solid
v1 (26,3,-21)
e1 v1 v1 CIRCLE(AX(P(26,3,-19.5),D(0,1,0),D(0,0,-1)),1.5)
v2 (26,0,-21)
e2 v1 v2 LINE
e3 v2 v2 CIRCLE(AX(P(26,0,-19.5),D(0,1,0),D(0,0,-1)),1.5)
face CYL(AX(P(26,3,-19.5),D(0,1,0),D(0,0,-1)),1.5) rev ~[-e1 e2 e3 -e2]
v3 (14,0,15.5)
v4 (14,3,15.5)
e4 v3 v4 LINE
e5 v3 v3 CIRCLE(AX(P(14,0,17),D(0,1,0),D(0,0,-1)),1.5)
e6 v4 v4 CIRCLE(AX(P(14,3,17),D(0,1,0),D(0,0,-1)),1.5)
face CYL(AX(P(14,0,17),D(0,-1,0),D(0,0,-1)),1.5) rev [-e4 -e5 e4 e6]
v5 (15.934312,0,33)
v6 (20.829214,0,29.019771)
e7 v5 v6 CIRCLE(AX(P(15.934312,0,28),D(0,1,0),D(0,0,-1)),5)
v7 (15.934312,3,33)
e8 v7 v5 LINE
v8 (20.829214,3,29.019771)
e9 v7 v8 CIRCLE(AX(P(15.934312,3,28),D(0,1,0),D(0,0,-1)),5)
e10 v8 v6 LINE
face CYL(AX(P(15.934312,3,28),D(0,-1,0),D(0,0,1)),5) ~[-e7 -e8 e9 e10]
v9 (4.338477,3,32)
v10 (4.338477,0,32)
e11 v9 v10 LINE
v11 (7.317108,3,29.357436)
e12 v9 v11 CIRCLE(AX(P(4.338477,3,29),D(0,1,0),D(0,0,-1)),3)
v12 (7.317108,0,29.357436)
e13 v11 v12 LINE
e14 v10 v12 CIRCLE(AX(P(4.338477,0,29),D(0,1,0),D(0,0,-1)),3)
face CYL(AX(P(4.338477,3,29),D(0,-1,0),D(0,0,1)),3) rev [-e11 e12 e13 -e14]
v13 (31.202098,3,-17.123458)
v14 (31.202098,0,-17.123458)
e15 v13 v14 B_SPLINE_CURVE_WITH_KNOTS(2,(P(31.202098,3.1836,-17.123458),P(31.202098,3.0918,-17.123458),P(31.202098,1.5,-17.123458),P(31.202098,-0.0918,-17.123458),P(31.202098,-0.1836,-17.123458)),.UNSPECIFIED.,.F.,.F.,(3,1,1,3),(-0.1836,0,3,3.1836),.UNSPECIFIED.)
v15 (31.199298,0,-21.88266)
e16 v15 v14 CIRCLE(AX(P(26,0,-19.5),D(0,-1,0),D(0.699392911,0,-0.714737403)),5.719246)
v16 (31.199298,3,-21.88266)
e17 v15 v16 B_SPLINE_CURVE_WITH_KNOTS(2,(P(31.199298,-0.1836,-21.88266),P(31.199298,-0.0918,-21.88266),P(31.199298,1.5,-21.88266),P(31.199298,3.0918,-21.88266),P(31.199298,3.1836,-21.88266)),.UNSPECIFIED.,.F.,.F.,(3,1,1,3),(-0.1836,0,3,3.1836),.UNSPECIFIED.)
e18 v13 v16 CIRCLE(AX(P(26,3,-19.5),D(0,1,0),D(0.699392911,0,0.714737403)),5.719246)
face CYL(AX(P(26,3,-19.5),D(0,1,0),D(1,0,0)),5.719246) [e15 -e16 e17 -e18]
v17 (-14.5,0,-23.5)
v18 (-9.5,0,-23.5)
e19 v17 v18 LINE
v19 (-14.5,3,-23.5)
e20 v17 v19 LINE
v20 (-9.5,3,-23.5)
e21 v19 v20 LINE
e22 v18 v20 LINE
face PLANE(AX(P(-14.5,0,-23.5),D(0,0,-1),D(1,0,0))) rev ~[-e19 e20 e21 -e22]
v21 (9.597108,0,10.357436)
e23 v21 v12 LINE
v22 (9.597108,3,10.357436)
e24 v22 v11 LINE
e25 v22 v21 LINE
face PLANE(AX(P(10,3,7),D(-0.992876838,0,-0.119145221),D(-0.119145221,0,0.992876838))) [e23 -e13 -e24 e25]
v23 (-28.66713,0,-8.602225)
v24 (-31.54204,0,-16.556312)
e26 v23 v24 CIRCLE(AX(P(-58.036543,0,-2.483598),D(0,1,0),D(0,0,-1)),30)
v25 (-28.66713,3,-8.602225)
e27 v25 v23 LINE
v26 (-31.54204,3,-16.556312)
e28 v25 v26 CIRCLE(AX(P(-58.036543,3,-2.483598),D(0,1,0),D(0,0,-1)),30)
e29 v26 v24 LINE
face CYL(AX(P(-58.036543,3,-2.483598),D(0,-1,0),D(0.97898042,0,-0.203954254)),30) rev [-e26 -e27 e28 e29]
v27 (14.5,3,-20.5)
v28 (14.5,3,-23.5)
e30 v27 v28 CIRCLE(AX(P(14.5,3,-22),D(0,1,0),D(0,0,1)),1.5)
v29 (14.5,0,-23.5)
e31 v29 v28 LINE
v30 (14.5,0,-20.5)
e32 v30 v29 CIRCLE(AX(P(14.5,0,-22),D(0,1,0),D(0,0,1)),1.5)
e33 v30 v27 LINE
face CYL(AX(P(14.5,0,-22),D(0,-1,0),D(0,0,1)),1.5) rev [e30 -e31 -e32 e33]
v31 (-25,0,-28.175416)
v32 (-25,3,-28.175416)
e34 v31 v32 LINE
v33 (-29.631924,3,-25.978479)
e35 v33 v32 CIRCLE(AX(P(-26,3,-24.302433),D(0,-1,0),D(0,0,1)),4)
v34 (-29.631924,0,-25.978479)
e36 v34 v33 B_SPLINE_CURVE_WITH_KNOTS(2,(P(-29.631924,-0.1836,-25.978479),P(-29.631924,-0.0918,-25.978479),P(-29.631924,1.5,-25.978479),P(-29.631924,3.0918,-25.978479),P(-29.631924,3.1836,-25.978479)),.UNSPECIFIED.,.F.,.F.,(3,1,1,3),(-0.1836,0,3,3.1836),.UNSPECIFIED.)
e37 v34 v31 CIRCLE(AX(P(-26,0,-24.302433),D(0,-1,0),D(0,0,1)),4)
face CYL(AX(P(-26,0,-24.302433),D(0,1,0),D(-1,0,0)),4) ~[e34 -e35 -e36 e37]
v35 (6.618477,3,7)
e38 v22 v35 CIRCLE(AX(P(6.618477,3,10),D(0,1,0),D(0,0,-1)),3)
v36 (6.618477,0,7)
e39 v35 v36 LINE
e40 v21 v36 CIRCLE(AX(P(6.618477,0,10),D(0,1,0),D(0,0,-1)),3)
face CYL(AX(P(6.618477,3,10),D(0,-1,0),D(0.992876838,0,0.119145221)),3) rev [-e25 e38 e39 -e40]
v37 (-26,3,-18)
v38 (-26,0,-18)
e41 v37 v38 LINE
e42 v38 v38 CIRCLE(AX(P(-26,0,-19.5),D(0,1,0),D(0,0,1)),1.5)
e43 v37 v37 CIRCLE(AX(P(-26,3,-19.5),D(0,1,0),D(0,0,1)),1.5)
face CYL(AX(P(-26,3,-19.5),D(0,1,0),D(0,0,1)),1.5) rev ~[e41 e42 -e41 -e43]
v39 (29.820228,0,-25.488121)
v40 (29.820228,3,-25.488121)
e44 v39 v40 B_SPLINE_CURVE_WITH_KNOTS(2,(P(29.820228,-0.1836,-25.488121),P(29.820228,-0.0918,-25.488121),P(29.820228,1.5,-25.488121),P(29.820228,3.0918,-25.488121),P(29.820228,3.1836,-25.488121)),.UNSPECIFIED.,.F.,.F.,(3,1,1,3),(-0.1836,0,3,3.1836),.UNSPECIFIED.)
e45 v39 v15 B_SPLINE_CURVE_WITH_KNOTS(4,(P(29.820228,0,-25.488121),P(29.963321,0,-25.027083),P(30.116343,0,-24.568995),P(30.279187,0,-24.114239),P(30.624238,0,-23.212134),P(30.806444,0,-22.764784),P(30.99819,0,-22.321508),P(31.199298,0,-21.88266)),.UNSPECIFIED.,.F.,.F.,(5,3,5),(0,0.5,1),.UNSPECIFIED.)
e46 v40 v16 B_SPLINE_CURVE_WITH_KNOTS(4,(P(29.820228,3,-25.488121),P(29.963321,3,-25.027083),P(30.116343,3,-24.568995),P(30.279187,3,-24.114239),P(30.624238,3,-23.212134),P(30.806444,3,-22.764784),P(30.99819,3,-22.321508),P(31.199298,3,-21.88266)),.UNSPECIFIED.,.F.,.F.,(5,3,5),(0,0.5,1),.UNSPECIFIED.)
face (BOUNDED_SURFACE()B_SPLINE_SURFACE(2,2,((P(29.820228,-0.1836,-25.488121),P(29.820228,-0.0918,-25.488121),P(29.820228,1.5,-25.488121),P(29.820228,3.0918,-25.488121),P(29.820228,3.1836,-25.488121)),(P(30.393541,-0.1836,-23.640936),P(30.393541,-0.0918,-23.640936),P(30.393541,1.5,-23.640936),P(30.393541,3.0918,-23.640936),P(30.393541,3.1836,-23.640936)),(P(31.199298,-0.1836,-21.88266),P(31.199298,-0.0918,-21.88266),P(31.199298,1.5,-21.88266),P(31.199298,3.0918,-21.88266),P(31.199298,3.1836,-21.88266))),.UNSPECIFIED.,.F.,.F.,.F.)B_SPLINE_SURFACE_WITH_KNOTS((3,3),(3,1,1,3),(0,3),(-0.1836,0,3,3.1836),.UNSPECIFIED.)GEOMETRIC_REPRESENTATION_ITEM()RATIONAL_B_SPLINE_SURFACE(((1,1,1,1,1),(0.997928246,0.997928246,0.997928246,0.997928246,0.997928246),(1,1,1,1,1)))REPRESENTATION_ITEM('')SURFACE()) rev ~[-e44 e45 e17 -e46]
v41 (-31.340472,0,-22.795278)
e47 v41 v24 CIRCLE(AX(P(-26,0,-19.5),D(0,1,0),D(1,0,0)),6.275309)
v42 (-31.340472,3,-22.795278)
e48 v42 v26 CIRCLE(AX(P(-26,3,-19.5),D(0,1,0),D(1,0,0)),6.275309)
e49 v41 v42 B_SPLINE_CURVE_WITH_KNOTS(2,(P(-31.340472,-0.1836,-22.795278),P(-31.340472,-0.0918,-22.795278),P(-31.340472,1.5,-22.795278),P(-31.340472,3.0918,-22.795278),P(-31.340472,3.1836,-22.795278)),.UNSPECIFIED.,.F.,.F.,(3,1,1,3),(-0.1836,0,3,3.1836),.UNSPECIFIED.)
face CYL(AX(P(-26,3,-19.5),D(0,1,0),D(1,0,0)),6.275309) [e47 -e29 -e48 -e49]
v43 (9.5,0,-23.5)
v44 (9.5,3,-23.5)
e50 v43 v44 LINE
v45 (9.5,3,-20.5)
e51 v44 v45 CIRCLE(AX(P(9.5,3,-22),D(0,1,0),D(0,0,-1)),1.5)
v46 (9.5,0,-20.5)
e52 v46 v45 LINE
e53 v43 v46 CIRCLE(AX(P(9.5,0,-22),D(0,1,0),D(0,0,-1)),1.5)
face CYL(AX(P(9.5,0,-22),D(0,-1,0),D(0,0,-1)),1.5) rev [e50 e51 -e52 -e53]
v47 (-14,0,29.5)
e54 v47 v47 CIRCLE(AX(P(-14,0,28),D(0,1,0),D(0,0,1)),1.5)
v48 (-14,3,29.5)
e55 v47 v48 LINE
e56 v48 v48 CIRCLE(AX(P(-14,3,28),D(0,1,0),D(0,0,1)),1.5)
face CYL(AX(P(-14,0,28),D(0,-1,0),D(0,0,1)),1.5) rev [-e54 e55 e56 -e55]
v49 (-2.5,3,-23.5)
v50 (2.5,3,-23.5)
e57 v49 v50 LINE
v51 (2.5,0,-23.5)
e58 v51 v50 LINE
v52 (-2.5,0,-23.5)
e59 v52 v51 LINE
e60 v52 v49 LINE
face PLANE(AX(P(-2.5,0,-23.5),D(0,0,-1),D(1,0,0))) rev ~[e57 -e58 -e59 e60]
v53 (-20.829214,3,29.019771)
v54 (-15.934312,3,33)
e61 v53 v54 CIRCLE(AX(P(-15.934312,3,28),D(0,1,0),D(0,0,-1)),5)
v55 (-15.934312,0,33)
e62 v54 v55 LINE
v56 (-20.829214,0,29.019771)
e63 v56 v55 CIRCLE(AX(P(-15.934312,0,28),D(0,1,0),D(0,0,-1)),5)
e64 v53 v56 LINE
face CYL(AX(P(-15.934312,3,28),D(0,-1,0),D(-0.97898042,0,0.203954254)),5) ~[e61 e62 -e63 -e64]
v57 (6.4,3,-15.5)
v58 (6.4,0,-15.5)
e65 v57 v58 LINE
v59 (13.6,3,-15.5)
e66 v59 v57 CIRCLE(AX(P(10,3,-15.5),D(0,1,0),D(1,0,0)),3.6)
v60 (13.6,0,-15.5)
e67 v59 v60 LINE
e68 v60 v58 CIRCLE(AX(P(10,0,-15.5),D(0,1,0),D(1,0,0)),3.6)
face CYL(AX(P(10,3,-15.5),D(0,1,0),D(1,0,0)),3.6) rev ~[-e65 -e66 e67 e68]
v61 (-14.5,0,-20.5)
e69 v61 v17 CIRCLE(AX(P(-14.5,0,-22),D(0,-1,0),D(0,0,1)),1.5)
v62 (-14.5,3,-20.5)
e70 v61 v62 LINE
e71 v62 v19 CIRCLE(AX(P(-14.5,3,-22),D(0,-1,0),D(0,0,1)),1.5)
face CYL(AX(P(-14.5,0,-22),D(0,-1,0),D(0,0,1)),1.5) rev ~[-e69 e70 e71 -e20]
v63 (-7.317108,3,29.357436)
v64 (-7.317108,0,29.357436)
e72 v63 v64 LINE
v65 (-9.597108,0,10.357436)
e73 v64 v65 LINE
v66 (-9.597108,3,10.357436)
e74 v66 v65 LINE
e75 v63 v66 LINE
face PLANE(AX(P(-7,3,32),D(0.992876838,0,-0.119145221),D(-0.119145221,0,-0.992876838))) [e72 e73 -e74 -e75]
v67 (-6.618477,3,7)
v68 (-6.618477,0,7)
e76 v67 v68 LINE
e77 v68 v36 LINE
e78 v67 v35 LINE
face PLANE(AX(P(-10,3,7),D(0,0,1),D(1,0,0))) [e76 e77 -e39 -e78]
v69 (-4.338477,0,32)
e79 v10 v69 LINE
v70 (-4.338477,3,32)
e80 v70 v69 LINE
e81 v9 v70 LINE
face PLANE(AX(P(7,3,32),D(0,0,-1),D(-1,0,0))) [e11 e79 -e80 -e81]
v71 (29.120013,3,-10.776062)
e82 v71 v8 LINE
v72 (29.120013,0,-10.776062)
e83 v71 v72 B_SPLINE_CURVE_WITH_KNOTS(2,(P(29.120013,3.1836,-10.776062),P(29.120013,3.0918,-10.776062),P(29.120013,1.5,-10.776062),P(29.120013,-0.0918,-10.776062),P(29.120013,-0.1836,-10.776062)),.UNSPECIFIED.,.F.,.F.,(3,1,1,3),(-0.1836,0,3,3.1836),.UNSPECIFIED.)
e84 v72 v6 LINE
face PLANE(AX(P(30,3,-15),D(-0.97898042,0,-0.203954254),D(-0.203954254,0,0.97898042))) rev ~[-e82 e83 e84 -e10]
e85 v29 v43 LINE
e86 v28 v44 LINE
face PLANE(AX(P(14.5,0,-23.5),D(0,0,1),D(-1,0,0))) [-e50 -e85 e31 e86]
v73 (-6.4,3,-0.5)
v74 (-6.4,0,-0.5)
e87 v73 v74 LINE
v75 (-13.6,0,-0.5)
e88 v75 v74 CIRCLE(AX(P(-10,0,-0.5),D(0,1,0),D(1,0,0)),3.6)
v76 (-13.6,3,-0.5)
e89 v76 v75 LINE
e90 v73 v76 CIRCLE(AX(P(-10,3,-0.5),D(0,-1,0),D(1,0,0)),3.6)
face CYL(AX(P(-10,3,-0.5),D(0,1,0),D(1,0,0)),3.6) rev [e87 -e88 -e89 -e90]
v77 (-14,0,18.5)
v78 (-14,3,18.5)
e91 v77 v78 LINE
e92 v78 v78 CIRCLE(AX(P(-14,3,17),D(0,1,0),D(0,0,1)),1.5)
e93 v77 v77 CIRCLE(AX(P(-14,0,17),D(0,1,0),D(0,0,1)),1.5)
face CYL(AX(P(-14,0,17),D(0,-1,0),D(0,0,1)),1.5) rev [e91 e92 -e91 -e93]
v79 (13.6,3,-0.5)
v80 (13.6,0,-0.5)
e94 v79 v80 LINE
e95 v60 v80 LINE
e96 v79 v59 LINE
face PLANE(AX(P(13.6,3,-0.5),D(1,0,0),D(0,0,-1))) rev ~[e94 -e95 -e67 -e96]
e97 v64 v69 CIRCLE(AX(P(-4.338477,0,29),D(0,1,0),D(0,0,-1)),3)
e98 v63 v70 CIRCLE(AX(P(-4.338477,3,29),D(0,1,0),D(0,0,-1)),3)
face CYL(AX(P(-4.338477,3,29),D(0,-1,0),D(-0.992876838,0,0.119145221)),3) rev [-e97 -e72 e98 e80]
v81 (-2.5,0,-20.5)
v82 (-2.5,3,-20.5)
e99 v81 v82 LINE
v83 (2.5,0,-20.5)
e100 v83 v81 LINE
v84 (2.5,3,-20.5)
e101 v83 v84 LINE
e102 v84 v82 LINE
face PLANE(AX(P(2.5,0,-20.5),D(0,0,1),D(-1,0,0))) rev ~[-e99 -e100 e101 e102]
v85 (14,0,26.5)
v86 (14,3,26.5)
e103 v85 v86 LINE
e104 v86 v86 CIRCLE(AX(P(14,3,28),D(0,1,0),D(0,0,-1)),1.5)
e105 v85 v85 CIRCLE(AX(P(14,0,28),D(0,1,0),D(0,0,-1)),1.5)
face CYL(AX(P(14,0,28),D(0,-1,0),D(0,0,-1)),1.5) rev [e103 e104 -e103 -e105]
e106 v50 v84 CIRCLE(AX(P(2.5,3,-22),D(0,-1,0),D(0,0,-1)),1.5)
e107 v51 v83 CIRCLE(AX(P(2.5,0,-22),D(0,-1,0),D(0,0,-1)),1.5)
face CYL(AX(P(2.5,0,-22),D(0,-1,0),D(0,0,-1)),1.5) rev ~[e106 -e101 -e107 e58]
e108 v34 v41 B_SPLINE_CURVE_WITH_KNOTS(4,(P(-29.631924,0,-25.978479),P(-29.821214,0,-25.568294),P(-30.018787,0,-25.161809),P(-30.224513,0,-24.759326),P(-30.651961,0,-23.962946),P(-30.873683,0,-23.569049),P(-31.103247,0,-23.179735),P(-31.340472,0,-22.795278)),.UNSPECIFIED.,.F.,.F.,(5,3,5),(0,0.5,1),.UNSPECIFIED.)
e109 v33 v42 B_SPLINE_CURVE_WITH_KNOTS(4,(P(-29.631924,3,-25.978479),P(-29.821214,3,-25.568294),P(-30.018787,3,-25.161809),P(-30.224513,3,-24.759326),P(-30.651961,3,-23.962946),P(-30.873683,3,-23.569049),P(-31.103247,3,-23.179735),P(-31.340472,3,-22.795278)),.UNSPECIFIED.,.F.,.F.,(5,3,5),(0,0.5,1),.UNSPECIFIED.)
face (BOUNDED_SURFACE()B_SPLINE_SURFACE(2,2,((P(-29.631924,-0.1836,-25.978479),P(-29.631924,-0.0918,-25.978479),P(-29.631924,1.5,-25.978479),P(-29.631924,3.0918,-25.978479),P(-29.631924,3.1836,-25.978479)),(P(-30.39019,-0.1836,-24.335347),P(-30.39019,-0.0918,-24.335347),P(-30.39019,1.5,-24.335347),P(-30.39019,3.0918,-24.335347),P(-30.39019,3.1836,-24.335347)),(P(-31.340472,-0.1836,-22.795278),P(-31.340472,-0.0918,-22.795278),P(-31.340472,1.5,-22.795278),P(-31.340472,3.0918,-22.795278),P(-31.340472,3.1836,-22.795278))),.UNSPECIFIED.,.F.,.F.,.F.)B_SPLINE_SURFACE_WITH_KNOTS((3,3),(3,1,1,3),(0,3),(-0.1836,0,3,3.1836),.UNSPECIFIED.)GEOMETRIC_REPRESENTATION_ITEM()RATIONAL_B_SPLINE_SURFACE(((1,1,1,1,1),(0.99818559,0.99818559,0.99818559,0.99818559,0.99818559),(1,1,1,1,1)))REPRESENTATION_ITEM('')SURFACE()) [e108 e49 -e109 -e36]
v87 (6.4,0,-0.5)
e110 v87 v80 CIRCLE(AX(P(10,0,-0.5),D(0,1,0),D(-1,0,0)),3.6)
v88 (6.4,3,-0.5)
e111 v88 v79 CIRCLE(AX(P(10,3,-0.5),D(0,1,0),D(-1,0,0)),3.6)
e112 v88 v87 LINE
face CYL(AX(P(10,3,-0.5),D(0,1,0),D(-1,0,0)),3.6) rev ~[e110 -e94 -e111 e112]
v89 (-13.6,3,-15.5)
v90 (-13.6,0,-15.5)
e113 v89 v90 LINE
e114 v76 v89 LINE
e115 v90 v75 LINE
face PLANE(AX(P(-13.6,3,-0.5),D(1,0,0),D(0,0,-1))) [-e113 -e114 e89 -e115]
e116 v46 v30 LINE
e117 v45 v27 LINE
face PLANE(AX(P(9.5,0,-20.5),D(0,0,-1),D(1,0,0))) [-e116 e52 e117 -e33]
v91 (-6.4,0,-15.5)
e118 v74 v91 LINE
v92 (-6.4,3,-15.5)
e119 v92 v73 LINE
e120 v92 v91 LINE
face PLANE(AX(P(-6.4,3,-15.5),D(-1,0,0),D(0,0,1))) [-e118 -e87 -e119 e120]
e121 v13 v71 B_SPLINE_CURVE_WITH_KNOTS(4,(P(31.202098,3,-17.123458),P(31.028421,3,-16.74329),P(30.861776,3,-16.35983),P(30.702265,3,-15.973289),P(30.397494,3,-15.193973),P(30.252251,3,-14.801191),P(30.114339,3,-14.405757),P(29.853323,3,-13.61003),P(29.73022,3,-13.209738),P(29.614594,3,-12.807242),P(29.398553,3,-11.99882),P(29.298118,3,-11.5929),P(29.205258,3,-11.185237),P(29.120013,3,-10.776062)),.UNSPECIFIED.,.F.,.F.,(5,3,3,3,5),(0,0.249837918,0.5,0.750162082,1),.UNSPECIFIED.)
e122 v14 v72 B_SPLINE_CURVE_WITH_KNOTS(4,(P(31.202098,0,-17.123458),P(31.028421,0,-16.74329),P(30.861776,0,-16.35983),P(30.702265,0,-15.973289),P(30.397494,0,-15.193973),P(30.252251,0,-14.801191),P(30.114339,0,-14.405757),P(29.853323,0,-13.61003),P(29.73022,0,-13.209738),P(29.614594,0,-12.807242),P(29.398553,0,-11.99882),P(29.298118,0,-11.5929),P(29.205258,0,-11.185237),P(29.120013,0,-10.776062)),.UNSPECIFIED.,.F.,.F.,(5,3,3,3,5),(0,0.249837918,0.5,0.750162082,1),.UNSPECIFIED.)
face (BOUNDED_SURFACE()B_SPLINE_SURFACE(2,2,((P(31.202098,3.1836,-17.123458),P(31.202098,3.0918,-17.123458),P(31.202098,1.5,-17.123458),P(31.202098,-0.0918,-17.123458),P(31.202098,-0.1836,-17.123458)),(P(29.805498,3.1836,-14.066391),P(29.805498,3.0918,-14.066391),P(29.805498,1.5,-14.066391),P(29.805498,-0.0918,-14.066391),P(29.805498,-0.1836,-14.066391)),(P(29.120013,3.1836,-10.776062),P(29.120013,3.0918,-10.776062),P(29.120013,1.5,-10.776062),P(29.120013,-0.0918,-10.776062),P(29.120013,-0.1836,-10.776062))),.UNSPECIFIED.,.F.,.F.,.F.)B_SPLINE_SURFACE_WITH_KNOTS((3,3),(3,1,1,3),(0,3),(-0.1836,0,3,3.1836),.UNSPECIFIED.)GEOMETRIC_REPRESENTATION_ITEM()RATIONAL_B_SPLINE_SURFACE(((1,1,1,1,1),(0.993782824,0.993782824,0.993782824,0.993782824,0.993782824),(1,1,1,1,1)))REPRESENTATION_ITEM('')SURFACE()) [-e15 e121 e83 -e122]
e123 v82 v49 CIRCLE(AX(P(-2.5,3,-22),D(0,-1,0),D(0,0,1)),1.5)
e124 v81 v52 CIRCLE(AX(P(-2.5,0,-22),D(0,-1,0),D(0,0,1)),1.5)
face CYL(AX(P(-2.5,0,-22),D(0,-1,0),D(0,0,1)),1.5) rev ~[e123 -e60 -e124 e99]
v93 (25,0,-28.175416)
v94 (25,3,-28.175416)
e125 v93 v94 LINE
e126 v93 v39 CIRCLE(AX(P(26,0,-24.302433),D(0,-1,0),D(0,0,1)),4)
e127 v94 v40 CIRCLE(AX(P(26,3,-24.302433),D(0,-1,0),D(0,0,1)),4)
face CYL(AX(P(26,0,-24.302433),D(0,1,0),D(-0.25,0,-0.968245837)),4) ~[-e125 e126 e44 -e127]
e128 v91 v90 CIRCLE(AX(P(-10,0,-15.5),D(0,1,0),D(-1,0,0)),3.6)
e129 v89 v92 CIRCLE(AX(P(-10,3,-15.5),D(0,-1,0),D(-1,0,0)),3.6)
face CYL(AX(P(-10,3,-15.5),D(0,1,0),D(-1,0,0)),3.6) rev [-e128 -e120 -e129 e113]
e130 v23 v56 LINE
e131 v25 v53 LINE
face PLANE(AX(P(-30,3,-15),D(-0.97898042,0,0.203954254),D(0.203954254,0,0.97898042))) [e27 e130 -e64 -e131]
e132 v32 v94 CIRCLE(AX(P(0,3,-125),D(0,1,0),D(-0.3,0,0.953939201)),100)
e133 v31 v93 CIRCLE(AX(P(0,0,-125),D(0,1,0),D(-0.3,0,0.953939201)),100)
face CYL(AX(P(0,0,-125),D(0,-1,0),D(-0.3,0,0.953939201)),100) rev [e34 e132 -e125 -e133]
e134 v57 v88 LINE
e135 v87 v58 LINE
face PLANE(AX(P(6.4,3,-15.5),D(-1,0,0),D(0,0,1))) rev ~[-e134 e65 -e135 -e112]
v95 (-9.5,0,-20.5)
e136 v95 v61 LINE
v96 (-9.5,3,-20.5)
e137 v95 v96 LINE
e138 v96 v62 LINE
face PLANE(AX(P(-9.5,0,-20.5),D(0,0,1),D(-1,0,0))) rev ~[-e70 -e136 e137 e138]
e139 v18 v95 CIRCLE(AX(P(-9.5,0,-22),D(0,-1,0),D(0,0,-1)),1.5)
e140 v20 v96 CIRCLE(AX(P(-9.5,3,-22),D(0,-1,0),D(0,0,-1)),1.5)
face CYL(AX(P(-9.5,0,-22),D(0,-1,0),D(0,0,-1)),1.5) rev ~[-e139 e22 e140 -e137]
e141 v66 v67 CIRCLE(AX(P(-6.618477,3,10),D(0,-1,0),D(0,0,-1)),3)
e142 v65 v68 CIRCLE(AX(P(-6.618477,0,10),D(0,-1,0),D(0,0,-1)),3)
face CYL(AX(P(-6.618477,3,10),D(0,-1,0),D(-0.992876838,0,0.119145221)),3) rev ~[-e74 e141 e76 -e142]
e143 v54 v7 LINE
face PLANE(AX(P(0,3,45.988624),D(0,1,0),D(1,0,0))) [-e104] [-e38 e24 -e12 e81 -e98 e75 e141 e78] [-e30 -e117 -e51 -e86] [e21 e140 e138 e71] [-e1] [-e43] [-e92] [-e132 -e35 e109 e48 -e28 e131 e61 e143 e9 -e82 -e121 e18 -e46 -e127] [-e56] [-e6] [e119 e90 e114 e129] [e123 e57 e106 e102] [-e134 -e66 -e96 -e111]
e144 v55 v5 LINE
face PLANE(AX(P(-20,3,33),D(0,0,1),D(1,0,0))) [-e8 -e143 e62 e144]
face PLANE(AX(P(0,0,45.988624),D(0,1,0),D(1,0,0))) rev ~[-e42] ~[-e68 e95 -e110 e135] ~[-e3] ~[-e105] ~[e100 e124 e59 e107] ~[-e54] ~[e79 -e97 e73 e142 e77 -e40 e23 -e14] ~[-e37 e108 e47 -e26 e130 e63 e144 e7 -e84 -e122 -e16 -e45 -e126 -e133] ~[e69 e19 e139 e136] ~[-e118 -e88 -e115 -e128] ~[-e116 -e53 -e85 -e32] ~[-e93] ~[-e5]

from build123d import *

# Parameters (mm, degrees)
SKETCH_1_R          = 1.5
EXTRUDE_1_DEPTH     = 3
SKETCH_2_R          = 1.5
CUT_EXTRUDE_1_DEPTH = 55.166410256
EXTRUDE_2_DEPTH     = 3
CUT_EXTRUDE_2_DEPTH = 55.166410256
CUT_EXTRUDE_3_DEPTH = 3
FILLET_1_R          = 3
EXTRUDE_3_DEPTH     = 3
FILLET_3_R          = 4
SKETCH_9_W          = 40
SKETCH_9_H          = 28
CUT_EXTRUDE_4_DEPTH = 10
FILLET_4_R          = 5
SKETCH_11_R         = 6.275308726
SKETCH_11_R_2       = 1.5
SKETCH_11_R_3       = 5.719245844
EXTRUDE_4_DEPTH     = 3
FILLET_5_R          = 30


with BuildPart() as part:
    # 草图1 → 凸台-拉伸1 (new body)
    with BuildSketch(Plane(origin=(0, 0, 0), x_dir=(1, 0, 0), z_dir=(0, 1, 0))):
        with BuildLine():
            Line((-17.5, -25), (-30, -25))
            Line((-30, -25), (-30, 25))
            Line((-30, 25), (-30, 29.606079858))
            ThreePointArc((-30, 29.606079858), (0, 25), (30, 29.606079858))
            Line((30, 29.606079858), (30, 25))
            Line((30, 25), (30, -25))
            Line((30, -25), (17.5, -25))
            Line((17.5, -25), (17.5, -45))
            Line((17.5, -45), (-17.5, -45))
            Line((-17.5, -45), (-17.5, -25))
        make_face()
        with Locations(Location((-14, -17, 0), (0, 0, 270))):
            Circle(SKETCH_1_R, mode=Mode.SUBTRACT)
        with Locations(Location((14, -17, 0), (0, 0, 90))):
            Circle(SKETCH_1_R, mode=Mode.SUBTRACT)
        with Locations(Location((-14, -28, 0), (0, 0, 270))):
            Circle(SKETCH_1_R, mode=Mode.SUBTRACT)
        with Locations(Location((14, -28, 0), (0, 0, 90))):
            Circle(SKETCH_1_R, mode=Mode.SUBTRACT)
        with BuildLine():
            Line((9.5, 20.5), (14.5, 20.5))
            ThreePointArc((14.5, 20.5), (16, 22), (14.5, 23.5))
            Line((14.5, 23.5), (9.5, 23.5))
            ThreePointArc((9.5, 23.5), (8, 22), (9.5, 20.5))
        make_face(mode=Mode.SUBTRACT)
        with BuildLine():
            Line((-2.5, 23.5), (2.5, 23.5))
            ThreePointArc((2.5, 23.5), (4, 22), (2.5, 20.5))
            Line((2.5, 20.5), (-2.5, 20.5))
            ThreePointArc((-2.5, 20.5), (-4, 22), (-2.5, 23.5))
        make_face(mode=Mode.SUBTRACT)
        with BuildLine():
            Line((-14.5, 23.5), (-9.5, 23.5))
            ThreePointArc((-9.5, 23.5), (-8, 22), (-9.5, 20.5))
            Line((-9.5, 20.5), (-14.5, 20.5))
            ThreePointArc((-14.5, 20.5), (-16, 22), (-14.5, 23.5))
        make_face(mode=Mode.SUBTRACT)
    extrude(amount=EXTRUDE_1_DEPTH)

    # 草图2 → 切除-拉伸1 (cut, through all)
    with BuildSketch(Plane(origin=(0, 3, 0), x_dir=(1, 0, 0), z_dir=(0, 1, 0))):
        with Locations(Location((-26, 19.5, 0), (0, 0, 270))):
            Circle(SKETCH_2_R)
        with Locations(Location((26, 19.5, 0), (0, 0, 90))):
            Circle(SKETCH_2_R)
        with BuildLine():
            Line((-6.4, 15.5), (-6.4, 0.5))
            ThreePointArc((-6.4, 0.5), (-10, -3.1), (-13.6, 0.5))
            Line((-13.6, 0.5), (-13.6, 15.5))
            ThreePointArc((-13.6, 15.5), (-10, 19.1), (-6.4, 15.5))
        make_face()
        with BuildLine():
            Line((6.4, 15.5), (6.4, 0.5))
            ThreePointArc((6.4, 0.5), (10, -3.1), (13.6, 0.5))
            Line((13.6, 0.5), (13.6, 15.5))
            ThreePointArc((13.6, 15.5), (10, 19.1), (6.4, 15.5))
        make_face()
    extrude(amount=-CUT_EXTRUDE_1_DEPTH, mode=Mode.SUBTRACT)

    # 草图3 → 凸台-拉伸2 (add)
    with BuildSketch(Plane(origin=(0, 3, 0), x_dir=(1, 0, 0), z_dir=(0, 1, 0))):
        Polygon((-30, -25), (-17.5, -45), (-17.5, -25), align=None)
        Polygon((17.5, -25), (17.5, -45), (30, -25), align=None)
    extrude(amount=-EXTRUDE_2_DEPTH)

    # 草图4 → 切除-拉伸2 (cut, through all)
    with BuildSketch(Plane(origin=(0, 3, 0), x_dir=(1, 0, 0), z_dir=(0, 1, 0))):
        Polygon((-30, 15), (-17.5, -45), (-30, -25), align=None)
        Polygon((17.5, -45), (30, -25), (30, 15), align=None)
    extrude(amount=-CUT_EXTRUDE_2_DEPTH, mode=Mode.SUBTRACT)

    # 草图6 → 切除-拉伸3 (cut)
    with BuildSketch(Plane(origin=(0, 3, 0), x_dir=(1, 0, 0), z_dir=(0, 1, 0))):
        Polygon((-10, -7), (10, -7), (7, -32), (-7, -32), align=None)
    extrude(amount=-CUT_EXTRUDE_3_DEPTH, mode=Mode.SUBTRACT)

    # 圆角1
    fillet_1_edges = [part.edges().sort_by_distance(p)[0] for p in [
        (10, 1.5, 7),
        (7, 1.5, 32),
        (-7, 1.5, 32),
        (-10, 1.5, 7),
    ]]
    fillet(fillet_1_edges, radius=FILLET_1_R)

    # 草图8 → 凸台-拉伸3 (add)
    with BuildSketch(Plane(origin=(0, 3, 0), x_dir=(1, 0, 0), z_dir=(0, 1, 0))):
        Polygon((-17.5, -45), (-17.083333333, -47), (17.083333333, -47), (17.5, -45), align=None)
    extrude(amount=-EXTRUDE_3_DEPTH)

    # 圆角3
    fillet_3_edges = [part.edges().sort_by_distance(p)[0] for p in [
        (-30, 1.5, -15),
        (30, 1.5, -15),
        (-30, 1.5, -29.606079858),
        (30, 1.5, -29.606079858),
        (17.083333333, 1.5, 47),
        (-17.083333333, 1.5, 47),
    ]]
    fillet(fillet_3_edges, radius=FILLET_3_R)

    # 草图9 → 切除-拉伸4 (cut)
    with BuildSketch(Plane(origin=(0, 3, 0), x_dir=(1, 0, 0), z_dir=(0, 1, 0))):
        with Locations((0, -47)):
            Rectangle(SKETCH_9_W, SKETCH_9_H)
    extrude(amount=-CUT_EXTRUDE_4_DEPTH, mode=Mode.SUBTRACT)

    # 圆角4
    fillet_4_edges = [part.edges().sort_by_distance(p)[0] for p in [
        (-20, 1.5, 33),
        (20, 1.5, 33),
    ]]
    fillet(fillet_4_edges, radius=FILLET_4_R)

    # 草图11 → 凸台-拉伸4 (add)
    # profile 1 of 2: a face of its own
    with BuildSketch(Plane(origin=(0, 3, 0), x_dir=(1, 0, 0), z_dir=(0, 1, 0))):
        with Locations((-26, 19.5)):
            Circle(SKETCH_11_R)
        with Locations(Location((-26, 19.5, 0), (0, 0, 270))):
            Circle(SKETCH_11_R_2, mode=Mode.SUBTRACT)
    # profile 2 of 2: a face of its own
    with BuildSketch(Plane(origin=(0, 3, 0), x_dir=(1, 0, 0), z_dir=(0, 1, 0))):
        with Locations((26, 19.5)):
            Circle(SKETCH_11_R_3)
        with Locations(Location((26, 19.5, 0), (0, 0, 90))):
            Circle(SKETCH_11_R_2, mode=Mode.SUBTRACT)
    extrude(amount=-EXTRUDE_4_DEPTH)

    # 圆角5
    fillet_5_edges = [part.edges().sort_by_distance(p)[0] for p in [
        (30, 1.5, -15.412241075),
        (30, 1.5, -23.587758925),
        (-29.915921679, 1.5, -14.596424059),
        (-29.999864579, 1.5, -24.335347242),
    ]]
    fillet(fillet_5_edges, radius=FILLET_5_R)


solid = part.part
